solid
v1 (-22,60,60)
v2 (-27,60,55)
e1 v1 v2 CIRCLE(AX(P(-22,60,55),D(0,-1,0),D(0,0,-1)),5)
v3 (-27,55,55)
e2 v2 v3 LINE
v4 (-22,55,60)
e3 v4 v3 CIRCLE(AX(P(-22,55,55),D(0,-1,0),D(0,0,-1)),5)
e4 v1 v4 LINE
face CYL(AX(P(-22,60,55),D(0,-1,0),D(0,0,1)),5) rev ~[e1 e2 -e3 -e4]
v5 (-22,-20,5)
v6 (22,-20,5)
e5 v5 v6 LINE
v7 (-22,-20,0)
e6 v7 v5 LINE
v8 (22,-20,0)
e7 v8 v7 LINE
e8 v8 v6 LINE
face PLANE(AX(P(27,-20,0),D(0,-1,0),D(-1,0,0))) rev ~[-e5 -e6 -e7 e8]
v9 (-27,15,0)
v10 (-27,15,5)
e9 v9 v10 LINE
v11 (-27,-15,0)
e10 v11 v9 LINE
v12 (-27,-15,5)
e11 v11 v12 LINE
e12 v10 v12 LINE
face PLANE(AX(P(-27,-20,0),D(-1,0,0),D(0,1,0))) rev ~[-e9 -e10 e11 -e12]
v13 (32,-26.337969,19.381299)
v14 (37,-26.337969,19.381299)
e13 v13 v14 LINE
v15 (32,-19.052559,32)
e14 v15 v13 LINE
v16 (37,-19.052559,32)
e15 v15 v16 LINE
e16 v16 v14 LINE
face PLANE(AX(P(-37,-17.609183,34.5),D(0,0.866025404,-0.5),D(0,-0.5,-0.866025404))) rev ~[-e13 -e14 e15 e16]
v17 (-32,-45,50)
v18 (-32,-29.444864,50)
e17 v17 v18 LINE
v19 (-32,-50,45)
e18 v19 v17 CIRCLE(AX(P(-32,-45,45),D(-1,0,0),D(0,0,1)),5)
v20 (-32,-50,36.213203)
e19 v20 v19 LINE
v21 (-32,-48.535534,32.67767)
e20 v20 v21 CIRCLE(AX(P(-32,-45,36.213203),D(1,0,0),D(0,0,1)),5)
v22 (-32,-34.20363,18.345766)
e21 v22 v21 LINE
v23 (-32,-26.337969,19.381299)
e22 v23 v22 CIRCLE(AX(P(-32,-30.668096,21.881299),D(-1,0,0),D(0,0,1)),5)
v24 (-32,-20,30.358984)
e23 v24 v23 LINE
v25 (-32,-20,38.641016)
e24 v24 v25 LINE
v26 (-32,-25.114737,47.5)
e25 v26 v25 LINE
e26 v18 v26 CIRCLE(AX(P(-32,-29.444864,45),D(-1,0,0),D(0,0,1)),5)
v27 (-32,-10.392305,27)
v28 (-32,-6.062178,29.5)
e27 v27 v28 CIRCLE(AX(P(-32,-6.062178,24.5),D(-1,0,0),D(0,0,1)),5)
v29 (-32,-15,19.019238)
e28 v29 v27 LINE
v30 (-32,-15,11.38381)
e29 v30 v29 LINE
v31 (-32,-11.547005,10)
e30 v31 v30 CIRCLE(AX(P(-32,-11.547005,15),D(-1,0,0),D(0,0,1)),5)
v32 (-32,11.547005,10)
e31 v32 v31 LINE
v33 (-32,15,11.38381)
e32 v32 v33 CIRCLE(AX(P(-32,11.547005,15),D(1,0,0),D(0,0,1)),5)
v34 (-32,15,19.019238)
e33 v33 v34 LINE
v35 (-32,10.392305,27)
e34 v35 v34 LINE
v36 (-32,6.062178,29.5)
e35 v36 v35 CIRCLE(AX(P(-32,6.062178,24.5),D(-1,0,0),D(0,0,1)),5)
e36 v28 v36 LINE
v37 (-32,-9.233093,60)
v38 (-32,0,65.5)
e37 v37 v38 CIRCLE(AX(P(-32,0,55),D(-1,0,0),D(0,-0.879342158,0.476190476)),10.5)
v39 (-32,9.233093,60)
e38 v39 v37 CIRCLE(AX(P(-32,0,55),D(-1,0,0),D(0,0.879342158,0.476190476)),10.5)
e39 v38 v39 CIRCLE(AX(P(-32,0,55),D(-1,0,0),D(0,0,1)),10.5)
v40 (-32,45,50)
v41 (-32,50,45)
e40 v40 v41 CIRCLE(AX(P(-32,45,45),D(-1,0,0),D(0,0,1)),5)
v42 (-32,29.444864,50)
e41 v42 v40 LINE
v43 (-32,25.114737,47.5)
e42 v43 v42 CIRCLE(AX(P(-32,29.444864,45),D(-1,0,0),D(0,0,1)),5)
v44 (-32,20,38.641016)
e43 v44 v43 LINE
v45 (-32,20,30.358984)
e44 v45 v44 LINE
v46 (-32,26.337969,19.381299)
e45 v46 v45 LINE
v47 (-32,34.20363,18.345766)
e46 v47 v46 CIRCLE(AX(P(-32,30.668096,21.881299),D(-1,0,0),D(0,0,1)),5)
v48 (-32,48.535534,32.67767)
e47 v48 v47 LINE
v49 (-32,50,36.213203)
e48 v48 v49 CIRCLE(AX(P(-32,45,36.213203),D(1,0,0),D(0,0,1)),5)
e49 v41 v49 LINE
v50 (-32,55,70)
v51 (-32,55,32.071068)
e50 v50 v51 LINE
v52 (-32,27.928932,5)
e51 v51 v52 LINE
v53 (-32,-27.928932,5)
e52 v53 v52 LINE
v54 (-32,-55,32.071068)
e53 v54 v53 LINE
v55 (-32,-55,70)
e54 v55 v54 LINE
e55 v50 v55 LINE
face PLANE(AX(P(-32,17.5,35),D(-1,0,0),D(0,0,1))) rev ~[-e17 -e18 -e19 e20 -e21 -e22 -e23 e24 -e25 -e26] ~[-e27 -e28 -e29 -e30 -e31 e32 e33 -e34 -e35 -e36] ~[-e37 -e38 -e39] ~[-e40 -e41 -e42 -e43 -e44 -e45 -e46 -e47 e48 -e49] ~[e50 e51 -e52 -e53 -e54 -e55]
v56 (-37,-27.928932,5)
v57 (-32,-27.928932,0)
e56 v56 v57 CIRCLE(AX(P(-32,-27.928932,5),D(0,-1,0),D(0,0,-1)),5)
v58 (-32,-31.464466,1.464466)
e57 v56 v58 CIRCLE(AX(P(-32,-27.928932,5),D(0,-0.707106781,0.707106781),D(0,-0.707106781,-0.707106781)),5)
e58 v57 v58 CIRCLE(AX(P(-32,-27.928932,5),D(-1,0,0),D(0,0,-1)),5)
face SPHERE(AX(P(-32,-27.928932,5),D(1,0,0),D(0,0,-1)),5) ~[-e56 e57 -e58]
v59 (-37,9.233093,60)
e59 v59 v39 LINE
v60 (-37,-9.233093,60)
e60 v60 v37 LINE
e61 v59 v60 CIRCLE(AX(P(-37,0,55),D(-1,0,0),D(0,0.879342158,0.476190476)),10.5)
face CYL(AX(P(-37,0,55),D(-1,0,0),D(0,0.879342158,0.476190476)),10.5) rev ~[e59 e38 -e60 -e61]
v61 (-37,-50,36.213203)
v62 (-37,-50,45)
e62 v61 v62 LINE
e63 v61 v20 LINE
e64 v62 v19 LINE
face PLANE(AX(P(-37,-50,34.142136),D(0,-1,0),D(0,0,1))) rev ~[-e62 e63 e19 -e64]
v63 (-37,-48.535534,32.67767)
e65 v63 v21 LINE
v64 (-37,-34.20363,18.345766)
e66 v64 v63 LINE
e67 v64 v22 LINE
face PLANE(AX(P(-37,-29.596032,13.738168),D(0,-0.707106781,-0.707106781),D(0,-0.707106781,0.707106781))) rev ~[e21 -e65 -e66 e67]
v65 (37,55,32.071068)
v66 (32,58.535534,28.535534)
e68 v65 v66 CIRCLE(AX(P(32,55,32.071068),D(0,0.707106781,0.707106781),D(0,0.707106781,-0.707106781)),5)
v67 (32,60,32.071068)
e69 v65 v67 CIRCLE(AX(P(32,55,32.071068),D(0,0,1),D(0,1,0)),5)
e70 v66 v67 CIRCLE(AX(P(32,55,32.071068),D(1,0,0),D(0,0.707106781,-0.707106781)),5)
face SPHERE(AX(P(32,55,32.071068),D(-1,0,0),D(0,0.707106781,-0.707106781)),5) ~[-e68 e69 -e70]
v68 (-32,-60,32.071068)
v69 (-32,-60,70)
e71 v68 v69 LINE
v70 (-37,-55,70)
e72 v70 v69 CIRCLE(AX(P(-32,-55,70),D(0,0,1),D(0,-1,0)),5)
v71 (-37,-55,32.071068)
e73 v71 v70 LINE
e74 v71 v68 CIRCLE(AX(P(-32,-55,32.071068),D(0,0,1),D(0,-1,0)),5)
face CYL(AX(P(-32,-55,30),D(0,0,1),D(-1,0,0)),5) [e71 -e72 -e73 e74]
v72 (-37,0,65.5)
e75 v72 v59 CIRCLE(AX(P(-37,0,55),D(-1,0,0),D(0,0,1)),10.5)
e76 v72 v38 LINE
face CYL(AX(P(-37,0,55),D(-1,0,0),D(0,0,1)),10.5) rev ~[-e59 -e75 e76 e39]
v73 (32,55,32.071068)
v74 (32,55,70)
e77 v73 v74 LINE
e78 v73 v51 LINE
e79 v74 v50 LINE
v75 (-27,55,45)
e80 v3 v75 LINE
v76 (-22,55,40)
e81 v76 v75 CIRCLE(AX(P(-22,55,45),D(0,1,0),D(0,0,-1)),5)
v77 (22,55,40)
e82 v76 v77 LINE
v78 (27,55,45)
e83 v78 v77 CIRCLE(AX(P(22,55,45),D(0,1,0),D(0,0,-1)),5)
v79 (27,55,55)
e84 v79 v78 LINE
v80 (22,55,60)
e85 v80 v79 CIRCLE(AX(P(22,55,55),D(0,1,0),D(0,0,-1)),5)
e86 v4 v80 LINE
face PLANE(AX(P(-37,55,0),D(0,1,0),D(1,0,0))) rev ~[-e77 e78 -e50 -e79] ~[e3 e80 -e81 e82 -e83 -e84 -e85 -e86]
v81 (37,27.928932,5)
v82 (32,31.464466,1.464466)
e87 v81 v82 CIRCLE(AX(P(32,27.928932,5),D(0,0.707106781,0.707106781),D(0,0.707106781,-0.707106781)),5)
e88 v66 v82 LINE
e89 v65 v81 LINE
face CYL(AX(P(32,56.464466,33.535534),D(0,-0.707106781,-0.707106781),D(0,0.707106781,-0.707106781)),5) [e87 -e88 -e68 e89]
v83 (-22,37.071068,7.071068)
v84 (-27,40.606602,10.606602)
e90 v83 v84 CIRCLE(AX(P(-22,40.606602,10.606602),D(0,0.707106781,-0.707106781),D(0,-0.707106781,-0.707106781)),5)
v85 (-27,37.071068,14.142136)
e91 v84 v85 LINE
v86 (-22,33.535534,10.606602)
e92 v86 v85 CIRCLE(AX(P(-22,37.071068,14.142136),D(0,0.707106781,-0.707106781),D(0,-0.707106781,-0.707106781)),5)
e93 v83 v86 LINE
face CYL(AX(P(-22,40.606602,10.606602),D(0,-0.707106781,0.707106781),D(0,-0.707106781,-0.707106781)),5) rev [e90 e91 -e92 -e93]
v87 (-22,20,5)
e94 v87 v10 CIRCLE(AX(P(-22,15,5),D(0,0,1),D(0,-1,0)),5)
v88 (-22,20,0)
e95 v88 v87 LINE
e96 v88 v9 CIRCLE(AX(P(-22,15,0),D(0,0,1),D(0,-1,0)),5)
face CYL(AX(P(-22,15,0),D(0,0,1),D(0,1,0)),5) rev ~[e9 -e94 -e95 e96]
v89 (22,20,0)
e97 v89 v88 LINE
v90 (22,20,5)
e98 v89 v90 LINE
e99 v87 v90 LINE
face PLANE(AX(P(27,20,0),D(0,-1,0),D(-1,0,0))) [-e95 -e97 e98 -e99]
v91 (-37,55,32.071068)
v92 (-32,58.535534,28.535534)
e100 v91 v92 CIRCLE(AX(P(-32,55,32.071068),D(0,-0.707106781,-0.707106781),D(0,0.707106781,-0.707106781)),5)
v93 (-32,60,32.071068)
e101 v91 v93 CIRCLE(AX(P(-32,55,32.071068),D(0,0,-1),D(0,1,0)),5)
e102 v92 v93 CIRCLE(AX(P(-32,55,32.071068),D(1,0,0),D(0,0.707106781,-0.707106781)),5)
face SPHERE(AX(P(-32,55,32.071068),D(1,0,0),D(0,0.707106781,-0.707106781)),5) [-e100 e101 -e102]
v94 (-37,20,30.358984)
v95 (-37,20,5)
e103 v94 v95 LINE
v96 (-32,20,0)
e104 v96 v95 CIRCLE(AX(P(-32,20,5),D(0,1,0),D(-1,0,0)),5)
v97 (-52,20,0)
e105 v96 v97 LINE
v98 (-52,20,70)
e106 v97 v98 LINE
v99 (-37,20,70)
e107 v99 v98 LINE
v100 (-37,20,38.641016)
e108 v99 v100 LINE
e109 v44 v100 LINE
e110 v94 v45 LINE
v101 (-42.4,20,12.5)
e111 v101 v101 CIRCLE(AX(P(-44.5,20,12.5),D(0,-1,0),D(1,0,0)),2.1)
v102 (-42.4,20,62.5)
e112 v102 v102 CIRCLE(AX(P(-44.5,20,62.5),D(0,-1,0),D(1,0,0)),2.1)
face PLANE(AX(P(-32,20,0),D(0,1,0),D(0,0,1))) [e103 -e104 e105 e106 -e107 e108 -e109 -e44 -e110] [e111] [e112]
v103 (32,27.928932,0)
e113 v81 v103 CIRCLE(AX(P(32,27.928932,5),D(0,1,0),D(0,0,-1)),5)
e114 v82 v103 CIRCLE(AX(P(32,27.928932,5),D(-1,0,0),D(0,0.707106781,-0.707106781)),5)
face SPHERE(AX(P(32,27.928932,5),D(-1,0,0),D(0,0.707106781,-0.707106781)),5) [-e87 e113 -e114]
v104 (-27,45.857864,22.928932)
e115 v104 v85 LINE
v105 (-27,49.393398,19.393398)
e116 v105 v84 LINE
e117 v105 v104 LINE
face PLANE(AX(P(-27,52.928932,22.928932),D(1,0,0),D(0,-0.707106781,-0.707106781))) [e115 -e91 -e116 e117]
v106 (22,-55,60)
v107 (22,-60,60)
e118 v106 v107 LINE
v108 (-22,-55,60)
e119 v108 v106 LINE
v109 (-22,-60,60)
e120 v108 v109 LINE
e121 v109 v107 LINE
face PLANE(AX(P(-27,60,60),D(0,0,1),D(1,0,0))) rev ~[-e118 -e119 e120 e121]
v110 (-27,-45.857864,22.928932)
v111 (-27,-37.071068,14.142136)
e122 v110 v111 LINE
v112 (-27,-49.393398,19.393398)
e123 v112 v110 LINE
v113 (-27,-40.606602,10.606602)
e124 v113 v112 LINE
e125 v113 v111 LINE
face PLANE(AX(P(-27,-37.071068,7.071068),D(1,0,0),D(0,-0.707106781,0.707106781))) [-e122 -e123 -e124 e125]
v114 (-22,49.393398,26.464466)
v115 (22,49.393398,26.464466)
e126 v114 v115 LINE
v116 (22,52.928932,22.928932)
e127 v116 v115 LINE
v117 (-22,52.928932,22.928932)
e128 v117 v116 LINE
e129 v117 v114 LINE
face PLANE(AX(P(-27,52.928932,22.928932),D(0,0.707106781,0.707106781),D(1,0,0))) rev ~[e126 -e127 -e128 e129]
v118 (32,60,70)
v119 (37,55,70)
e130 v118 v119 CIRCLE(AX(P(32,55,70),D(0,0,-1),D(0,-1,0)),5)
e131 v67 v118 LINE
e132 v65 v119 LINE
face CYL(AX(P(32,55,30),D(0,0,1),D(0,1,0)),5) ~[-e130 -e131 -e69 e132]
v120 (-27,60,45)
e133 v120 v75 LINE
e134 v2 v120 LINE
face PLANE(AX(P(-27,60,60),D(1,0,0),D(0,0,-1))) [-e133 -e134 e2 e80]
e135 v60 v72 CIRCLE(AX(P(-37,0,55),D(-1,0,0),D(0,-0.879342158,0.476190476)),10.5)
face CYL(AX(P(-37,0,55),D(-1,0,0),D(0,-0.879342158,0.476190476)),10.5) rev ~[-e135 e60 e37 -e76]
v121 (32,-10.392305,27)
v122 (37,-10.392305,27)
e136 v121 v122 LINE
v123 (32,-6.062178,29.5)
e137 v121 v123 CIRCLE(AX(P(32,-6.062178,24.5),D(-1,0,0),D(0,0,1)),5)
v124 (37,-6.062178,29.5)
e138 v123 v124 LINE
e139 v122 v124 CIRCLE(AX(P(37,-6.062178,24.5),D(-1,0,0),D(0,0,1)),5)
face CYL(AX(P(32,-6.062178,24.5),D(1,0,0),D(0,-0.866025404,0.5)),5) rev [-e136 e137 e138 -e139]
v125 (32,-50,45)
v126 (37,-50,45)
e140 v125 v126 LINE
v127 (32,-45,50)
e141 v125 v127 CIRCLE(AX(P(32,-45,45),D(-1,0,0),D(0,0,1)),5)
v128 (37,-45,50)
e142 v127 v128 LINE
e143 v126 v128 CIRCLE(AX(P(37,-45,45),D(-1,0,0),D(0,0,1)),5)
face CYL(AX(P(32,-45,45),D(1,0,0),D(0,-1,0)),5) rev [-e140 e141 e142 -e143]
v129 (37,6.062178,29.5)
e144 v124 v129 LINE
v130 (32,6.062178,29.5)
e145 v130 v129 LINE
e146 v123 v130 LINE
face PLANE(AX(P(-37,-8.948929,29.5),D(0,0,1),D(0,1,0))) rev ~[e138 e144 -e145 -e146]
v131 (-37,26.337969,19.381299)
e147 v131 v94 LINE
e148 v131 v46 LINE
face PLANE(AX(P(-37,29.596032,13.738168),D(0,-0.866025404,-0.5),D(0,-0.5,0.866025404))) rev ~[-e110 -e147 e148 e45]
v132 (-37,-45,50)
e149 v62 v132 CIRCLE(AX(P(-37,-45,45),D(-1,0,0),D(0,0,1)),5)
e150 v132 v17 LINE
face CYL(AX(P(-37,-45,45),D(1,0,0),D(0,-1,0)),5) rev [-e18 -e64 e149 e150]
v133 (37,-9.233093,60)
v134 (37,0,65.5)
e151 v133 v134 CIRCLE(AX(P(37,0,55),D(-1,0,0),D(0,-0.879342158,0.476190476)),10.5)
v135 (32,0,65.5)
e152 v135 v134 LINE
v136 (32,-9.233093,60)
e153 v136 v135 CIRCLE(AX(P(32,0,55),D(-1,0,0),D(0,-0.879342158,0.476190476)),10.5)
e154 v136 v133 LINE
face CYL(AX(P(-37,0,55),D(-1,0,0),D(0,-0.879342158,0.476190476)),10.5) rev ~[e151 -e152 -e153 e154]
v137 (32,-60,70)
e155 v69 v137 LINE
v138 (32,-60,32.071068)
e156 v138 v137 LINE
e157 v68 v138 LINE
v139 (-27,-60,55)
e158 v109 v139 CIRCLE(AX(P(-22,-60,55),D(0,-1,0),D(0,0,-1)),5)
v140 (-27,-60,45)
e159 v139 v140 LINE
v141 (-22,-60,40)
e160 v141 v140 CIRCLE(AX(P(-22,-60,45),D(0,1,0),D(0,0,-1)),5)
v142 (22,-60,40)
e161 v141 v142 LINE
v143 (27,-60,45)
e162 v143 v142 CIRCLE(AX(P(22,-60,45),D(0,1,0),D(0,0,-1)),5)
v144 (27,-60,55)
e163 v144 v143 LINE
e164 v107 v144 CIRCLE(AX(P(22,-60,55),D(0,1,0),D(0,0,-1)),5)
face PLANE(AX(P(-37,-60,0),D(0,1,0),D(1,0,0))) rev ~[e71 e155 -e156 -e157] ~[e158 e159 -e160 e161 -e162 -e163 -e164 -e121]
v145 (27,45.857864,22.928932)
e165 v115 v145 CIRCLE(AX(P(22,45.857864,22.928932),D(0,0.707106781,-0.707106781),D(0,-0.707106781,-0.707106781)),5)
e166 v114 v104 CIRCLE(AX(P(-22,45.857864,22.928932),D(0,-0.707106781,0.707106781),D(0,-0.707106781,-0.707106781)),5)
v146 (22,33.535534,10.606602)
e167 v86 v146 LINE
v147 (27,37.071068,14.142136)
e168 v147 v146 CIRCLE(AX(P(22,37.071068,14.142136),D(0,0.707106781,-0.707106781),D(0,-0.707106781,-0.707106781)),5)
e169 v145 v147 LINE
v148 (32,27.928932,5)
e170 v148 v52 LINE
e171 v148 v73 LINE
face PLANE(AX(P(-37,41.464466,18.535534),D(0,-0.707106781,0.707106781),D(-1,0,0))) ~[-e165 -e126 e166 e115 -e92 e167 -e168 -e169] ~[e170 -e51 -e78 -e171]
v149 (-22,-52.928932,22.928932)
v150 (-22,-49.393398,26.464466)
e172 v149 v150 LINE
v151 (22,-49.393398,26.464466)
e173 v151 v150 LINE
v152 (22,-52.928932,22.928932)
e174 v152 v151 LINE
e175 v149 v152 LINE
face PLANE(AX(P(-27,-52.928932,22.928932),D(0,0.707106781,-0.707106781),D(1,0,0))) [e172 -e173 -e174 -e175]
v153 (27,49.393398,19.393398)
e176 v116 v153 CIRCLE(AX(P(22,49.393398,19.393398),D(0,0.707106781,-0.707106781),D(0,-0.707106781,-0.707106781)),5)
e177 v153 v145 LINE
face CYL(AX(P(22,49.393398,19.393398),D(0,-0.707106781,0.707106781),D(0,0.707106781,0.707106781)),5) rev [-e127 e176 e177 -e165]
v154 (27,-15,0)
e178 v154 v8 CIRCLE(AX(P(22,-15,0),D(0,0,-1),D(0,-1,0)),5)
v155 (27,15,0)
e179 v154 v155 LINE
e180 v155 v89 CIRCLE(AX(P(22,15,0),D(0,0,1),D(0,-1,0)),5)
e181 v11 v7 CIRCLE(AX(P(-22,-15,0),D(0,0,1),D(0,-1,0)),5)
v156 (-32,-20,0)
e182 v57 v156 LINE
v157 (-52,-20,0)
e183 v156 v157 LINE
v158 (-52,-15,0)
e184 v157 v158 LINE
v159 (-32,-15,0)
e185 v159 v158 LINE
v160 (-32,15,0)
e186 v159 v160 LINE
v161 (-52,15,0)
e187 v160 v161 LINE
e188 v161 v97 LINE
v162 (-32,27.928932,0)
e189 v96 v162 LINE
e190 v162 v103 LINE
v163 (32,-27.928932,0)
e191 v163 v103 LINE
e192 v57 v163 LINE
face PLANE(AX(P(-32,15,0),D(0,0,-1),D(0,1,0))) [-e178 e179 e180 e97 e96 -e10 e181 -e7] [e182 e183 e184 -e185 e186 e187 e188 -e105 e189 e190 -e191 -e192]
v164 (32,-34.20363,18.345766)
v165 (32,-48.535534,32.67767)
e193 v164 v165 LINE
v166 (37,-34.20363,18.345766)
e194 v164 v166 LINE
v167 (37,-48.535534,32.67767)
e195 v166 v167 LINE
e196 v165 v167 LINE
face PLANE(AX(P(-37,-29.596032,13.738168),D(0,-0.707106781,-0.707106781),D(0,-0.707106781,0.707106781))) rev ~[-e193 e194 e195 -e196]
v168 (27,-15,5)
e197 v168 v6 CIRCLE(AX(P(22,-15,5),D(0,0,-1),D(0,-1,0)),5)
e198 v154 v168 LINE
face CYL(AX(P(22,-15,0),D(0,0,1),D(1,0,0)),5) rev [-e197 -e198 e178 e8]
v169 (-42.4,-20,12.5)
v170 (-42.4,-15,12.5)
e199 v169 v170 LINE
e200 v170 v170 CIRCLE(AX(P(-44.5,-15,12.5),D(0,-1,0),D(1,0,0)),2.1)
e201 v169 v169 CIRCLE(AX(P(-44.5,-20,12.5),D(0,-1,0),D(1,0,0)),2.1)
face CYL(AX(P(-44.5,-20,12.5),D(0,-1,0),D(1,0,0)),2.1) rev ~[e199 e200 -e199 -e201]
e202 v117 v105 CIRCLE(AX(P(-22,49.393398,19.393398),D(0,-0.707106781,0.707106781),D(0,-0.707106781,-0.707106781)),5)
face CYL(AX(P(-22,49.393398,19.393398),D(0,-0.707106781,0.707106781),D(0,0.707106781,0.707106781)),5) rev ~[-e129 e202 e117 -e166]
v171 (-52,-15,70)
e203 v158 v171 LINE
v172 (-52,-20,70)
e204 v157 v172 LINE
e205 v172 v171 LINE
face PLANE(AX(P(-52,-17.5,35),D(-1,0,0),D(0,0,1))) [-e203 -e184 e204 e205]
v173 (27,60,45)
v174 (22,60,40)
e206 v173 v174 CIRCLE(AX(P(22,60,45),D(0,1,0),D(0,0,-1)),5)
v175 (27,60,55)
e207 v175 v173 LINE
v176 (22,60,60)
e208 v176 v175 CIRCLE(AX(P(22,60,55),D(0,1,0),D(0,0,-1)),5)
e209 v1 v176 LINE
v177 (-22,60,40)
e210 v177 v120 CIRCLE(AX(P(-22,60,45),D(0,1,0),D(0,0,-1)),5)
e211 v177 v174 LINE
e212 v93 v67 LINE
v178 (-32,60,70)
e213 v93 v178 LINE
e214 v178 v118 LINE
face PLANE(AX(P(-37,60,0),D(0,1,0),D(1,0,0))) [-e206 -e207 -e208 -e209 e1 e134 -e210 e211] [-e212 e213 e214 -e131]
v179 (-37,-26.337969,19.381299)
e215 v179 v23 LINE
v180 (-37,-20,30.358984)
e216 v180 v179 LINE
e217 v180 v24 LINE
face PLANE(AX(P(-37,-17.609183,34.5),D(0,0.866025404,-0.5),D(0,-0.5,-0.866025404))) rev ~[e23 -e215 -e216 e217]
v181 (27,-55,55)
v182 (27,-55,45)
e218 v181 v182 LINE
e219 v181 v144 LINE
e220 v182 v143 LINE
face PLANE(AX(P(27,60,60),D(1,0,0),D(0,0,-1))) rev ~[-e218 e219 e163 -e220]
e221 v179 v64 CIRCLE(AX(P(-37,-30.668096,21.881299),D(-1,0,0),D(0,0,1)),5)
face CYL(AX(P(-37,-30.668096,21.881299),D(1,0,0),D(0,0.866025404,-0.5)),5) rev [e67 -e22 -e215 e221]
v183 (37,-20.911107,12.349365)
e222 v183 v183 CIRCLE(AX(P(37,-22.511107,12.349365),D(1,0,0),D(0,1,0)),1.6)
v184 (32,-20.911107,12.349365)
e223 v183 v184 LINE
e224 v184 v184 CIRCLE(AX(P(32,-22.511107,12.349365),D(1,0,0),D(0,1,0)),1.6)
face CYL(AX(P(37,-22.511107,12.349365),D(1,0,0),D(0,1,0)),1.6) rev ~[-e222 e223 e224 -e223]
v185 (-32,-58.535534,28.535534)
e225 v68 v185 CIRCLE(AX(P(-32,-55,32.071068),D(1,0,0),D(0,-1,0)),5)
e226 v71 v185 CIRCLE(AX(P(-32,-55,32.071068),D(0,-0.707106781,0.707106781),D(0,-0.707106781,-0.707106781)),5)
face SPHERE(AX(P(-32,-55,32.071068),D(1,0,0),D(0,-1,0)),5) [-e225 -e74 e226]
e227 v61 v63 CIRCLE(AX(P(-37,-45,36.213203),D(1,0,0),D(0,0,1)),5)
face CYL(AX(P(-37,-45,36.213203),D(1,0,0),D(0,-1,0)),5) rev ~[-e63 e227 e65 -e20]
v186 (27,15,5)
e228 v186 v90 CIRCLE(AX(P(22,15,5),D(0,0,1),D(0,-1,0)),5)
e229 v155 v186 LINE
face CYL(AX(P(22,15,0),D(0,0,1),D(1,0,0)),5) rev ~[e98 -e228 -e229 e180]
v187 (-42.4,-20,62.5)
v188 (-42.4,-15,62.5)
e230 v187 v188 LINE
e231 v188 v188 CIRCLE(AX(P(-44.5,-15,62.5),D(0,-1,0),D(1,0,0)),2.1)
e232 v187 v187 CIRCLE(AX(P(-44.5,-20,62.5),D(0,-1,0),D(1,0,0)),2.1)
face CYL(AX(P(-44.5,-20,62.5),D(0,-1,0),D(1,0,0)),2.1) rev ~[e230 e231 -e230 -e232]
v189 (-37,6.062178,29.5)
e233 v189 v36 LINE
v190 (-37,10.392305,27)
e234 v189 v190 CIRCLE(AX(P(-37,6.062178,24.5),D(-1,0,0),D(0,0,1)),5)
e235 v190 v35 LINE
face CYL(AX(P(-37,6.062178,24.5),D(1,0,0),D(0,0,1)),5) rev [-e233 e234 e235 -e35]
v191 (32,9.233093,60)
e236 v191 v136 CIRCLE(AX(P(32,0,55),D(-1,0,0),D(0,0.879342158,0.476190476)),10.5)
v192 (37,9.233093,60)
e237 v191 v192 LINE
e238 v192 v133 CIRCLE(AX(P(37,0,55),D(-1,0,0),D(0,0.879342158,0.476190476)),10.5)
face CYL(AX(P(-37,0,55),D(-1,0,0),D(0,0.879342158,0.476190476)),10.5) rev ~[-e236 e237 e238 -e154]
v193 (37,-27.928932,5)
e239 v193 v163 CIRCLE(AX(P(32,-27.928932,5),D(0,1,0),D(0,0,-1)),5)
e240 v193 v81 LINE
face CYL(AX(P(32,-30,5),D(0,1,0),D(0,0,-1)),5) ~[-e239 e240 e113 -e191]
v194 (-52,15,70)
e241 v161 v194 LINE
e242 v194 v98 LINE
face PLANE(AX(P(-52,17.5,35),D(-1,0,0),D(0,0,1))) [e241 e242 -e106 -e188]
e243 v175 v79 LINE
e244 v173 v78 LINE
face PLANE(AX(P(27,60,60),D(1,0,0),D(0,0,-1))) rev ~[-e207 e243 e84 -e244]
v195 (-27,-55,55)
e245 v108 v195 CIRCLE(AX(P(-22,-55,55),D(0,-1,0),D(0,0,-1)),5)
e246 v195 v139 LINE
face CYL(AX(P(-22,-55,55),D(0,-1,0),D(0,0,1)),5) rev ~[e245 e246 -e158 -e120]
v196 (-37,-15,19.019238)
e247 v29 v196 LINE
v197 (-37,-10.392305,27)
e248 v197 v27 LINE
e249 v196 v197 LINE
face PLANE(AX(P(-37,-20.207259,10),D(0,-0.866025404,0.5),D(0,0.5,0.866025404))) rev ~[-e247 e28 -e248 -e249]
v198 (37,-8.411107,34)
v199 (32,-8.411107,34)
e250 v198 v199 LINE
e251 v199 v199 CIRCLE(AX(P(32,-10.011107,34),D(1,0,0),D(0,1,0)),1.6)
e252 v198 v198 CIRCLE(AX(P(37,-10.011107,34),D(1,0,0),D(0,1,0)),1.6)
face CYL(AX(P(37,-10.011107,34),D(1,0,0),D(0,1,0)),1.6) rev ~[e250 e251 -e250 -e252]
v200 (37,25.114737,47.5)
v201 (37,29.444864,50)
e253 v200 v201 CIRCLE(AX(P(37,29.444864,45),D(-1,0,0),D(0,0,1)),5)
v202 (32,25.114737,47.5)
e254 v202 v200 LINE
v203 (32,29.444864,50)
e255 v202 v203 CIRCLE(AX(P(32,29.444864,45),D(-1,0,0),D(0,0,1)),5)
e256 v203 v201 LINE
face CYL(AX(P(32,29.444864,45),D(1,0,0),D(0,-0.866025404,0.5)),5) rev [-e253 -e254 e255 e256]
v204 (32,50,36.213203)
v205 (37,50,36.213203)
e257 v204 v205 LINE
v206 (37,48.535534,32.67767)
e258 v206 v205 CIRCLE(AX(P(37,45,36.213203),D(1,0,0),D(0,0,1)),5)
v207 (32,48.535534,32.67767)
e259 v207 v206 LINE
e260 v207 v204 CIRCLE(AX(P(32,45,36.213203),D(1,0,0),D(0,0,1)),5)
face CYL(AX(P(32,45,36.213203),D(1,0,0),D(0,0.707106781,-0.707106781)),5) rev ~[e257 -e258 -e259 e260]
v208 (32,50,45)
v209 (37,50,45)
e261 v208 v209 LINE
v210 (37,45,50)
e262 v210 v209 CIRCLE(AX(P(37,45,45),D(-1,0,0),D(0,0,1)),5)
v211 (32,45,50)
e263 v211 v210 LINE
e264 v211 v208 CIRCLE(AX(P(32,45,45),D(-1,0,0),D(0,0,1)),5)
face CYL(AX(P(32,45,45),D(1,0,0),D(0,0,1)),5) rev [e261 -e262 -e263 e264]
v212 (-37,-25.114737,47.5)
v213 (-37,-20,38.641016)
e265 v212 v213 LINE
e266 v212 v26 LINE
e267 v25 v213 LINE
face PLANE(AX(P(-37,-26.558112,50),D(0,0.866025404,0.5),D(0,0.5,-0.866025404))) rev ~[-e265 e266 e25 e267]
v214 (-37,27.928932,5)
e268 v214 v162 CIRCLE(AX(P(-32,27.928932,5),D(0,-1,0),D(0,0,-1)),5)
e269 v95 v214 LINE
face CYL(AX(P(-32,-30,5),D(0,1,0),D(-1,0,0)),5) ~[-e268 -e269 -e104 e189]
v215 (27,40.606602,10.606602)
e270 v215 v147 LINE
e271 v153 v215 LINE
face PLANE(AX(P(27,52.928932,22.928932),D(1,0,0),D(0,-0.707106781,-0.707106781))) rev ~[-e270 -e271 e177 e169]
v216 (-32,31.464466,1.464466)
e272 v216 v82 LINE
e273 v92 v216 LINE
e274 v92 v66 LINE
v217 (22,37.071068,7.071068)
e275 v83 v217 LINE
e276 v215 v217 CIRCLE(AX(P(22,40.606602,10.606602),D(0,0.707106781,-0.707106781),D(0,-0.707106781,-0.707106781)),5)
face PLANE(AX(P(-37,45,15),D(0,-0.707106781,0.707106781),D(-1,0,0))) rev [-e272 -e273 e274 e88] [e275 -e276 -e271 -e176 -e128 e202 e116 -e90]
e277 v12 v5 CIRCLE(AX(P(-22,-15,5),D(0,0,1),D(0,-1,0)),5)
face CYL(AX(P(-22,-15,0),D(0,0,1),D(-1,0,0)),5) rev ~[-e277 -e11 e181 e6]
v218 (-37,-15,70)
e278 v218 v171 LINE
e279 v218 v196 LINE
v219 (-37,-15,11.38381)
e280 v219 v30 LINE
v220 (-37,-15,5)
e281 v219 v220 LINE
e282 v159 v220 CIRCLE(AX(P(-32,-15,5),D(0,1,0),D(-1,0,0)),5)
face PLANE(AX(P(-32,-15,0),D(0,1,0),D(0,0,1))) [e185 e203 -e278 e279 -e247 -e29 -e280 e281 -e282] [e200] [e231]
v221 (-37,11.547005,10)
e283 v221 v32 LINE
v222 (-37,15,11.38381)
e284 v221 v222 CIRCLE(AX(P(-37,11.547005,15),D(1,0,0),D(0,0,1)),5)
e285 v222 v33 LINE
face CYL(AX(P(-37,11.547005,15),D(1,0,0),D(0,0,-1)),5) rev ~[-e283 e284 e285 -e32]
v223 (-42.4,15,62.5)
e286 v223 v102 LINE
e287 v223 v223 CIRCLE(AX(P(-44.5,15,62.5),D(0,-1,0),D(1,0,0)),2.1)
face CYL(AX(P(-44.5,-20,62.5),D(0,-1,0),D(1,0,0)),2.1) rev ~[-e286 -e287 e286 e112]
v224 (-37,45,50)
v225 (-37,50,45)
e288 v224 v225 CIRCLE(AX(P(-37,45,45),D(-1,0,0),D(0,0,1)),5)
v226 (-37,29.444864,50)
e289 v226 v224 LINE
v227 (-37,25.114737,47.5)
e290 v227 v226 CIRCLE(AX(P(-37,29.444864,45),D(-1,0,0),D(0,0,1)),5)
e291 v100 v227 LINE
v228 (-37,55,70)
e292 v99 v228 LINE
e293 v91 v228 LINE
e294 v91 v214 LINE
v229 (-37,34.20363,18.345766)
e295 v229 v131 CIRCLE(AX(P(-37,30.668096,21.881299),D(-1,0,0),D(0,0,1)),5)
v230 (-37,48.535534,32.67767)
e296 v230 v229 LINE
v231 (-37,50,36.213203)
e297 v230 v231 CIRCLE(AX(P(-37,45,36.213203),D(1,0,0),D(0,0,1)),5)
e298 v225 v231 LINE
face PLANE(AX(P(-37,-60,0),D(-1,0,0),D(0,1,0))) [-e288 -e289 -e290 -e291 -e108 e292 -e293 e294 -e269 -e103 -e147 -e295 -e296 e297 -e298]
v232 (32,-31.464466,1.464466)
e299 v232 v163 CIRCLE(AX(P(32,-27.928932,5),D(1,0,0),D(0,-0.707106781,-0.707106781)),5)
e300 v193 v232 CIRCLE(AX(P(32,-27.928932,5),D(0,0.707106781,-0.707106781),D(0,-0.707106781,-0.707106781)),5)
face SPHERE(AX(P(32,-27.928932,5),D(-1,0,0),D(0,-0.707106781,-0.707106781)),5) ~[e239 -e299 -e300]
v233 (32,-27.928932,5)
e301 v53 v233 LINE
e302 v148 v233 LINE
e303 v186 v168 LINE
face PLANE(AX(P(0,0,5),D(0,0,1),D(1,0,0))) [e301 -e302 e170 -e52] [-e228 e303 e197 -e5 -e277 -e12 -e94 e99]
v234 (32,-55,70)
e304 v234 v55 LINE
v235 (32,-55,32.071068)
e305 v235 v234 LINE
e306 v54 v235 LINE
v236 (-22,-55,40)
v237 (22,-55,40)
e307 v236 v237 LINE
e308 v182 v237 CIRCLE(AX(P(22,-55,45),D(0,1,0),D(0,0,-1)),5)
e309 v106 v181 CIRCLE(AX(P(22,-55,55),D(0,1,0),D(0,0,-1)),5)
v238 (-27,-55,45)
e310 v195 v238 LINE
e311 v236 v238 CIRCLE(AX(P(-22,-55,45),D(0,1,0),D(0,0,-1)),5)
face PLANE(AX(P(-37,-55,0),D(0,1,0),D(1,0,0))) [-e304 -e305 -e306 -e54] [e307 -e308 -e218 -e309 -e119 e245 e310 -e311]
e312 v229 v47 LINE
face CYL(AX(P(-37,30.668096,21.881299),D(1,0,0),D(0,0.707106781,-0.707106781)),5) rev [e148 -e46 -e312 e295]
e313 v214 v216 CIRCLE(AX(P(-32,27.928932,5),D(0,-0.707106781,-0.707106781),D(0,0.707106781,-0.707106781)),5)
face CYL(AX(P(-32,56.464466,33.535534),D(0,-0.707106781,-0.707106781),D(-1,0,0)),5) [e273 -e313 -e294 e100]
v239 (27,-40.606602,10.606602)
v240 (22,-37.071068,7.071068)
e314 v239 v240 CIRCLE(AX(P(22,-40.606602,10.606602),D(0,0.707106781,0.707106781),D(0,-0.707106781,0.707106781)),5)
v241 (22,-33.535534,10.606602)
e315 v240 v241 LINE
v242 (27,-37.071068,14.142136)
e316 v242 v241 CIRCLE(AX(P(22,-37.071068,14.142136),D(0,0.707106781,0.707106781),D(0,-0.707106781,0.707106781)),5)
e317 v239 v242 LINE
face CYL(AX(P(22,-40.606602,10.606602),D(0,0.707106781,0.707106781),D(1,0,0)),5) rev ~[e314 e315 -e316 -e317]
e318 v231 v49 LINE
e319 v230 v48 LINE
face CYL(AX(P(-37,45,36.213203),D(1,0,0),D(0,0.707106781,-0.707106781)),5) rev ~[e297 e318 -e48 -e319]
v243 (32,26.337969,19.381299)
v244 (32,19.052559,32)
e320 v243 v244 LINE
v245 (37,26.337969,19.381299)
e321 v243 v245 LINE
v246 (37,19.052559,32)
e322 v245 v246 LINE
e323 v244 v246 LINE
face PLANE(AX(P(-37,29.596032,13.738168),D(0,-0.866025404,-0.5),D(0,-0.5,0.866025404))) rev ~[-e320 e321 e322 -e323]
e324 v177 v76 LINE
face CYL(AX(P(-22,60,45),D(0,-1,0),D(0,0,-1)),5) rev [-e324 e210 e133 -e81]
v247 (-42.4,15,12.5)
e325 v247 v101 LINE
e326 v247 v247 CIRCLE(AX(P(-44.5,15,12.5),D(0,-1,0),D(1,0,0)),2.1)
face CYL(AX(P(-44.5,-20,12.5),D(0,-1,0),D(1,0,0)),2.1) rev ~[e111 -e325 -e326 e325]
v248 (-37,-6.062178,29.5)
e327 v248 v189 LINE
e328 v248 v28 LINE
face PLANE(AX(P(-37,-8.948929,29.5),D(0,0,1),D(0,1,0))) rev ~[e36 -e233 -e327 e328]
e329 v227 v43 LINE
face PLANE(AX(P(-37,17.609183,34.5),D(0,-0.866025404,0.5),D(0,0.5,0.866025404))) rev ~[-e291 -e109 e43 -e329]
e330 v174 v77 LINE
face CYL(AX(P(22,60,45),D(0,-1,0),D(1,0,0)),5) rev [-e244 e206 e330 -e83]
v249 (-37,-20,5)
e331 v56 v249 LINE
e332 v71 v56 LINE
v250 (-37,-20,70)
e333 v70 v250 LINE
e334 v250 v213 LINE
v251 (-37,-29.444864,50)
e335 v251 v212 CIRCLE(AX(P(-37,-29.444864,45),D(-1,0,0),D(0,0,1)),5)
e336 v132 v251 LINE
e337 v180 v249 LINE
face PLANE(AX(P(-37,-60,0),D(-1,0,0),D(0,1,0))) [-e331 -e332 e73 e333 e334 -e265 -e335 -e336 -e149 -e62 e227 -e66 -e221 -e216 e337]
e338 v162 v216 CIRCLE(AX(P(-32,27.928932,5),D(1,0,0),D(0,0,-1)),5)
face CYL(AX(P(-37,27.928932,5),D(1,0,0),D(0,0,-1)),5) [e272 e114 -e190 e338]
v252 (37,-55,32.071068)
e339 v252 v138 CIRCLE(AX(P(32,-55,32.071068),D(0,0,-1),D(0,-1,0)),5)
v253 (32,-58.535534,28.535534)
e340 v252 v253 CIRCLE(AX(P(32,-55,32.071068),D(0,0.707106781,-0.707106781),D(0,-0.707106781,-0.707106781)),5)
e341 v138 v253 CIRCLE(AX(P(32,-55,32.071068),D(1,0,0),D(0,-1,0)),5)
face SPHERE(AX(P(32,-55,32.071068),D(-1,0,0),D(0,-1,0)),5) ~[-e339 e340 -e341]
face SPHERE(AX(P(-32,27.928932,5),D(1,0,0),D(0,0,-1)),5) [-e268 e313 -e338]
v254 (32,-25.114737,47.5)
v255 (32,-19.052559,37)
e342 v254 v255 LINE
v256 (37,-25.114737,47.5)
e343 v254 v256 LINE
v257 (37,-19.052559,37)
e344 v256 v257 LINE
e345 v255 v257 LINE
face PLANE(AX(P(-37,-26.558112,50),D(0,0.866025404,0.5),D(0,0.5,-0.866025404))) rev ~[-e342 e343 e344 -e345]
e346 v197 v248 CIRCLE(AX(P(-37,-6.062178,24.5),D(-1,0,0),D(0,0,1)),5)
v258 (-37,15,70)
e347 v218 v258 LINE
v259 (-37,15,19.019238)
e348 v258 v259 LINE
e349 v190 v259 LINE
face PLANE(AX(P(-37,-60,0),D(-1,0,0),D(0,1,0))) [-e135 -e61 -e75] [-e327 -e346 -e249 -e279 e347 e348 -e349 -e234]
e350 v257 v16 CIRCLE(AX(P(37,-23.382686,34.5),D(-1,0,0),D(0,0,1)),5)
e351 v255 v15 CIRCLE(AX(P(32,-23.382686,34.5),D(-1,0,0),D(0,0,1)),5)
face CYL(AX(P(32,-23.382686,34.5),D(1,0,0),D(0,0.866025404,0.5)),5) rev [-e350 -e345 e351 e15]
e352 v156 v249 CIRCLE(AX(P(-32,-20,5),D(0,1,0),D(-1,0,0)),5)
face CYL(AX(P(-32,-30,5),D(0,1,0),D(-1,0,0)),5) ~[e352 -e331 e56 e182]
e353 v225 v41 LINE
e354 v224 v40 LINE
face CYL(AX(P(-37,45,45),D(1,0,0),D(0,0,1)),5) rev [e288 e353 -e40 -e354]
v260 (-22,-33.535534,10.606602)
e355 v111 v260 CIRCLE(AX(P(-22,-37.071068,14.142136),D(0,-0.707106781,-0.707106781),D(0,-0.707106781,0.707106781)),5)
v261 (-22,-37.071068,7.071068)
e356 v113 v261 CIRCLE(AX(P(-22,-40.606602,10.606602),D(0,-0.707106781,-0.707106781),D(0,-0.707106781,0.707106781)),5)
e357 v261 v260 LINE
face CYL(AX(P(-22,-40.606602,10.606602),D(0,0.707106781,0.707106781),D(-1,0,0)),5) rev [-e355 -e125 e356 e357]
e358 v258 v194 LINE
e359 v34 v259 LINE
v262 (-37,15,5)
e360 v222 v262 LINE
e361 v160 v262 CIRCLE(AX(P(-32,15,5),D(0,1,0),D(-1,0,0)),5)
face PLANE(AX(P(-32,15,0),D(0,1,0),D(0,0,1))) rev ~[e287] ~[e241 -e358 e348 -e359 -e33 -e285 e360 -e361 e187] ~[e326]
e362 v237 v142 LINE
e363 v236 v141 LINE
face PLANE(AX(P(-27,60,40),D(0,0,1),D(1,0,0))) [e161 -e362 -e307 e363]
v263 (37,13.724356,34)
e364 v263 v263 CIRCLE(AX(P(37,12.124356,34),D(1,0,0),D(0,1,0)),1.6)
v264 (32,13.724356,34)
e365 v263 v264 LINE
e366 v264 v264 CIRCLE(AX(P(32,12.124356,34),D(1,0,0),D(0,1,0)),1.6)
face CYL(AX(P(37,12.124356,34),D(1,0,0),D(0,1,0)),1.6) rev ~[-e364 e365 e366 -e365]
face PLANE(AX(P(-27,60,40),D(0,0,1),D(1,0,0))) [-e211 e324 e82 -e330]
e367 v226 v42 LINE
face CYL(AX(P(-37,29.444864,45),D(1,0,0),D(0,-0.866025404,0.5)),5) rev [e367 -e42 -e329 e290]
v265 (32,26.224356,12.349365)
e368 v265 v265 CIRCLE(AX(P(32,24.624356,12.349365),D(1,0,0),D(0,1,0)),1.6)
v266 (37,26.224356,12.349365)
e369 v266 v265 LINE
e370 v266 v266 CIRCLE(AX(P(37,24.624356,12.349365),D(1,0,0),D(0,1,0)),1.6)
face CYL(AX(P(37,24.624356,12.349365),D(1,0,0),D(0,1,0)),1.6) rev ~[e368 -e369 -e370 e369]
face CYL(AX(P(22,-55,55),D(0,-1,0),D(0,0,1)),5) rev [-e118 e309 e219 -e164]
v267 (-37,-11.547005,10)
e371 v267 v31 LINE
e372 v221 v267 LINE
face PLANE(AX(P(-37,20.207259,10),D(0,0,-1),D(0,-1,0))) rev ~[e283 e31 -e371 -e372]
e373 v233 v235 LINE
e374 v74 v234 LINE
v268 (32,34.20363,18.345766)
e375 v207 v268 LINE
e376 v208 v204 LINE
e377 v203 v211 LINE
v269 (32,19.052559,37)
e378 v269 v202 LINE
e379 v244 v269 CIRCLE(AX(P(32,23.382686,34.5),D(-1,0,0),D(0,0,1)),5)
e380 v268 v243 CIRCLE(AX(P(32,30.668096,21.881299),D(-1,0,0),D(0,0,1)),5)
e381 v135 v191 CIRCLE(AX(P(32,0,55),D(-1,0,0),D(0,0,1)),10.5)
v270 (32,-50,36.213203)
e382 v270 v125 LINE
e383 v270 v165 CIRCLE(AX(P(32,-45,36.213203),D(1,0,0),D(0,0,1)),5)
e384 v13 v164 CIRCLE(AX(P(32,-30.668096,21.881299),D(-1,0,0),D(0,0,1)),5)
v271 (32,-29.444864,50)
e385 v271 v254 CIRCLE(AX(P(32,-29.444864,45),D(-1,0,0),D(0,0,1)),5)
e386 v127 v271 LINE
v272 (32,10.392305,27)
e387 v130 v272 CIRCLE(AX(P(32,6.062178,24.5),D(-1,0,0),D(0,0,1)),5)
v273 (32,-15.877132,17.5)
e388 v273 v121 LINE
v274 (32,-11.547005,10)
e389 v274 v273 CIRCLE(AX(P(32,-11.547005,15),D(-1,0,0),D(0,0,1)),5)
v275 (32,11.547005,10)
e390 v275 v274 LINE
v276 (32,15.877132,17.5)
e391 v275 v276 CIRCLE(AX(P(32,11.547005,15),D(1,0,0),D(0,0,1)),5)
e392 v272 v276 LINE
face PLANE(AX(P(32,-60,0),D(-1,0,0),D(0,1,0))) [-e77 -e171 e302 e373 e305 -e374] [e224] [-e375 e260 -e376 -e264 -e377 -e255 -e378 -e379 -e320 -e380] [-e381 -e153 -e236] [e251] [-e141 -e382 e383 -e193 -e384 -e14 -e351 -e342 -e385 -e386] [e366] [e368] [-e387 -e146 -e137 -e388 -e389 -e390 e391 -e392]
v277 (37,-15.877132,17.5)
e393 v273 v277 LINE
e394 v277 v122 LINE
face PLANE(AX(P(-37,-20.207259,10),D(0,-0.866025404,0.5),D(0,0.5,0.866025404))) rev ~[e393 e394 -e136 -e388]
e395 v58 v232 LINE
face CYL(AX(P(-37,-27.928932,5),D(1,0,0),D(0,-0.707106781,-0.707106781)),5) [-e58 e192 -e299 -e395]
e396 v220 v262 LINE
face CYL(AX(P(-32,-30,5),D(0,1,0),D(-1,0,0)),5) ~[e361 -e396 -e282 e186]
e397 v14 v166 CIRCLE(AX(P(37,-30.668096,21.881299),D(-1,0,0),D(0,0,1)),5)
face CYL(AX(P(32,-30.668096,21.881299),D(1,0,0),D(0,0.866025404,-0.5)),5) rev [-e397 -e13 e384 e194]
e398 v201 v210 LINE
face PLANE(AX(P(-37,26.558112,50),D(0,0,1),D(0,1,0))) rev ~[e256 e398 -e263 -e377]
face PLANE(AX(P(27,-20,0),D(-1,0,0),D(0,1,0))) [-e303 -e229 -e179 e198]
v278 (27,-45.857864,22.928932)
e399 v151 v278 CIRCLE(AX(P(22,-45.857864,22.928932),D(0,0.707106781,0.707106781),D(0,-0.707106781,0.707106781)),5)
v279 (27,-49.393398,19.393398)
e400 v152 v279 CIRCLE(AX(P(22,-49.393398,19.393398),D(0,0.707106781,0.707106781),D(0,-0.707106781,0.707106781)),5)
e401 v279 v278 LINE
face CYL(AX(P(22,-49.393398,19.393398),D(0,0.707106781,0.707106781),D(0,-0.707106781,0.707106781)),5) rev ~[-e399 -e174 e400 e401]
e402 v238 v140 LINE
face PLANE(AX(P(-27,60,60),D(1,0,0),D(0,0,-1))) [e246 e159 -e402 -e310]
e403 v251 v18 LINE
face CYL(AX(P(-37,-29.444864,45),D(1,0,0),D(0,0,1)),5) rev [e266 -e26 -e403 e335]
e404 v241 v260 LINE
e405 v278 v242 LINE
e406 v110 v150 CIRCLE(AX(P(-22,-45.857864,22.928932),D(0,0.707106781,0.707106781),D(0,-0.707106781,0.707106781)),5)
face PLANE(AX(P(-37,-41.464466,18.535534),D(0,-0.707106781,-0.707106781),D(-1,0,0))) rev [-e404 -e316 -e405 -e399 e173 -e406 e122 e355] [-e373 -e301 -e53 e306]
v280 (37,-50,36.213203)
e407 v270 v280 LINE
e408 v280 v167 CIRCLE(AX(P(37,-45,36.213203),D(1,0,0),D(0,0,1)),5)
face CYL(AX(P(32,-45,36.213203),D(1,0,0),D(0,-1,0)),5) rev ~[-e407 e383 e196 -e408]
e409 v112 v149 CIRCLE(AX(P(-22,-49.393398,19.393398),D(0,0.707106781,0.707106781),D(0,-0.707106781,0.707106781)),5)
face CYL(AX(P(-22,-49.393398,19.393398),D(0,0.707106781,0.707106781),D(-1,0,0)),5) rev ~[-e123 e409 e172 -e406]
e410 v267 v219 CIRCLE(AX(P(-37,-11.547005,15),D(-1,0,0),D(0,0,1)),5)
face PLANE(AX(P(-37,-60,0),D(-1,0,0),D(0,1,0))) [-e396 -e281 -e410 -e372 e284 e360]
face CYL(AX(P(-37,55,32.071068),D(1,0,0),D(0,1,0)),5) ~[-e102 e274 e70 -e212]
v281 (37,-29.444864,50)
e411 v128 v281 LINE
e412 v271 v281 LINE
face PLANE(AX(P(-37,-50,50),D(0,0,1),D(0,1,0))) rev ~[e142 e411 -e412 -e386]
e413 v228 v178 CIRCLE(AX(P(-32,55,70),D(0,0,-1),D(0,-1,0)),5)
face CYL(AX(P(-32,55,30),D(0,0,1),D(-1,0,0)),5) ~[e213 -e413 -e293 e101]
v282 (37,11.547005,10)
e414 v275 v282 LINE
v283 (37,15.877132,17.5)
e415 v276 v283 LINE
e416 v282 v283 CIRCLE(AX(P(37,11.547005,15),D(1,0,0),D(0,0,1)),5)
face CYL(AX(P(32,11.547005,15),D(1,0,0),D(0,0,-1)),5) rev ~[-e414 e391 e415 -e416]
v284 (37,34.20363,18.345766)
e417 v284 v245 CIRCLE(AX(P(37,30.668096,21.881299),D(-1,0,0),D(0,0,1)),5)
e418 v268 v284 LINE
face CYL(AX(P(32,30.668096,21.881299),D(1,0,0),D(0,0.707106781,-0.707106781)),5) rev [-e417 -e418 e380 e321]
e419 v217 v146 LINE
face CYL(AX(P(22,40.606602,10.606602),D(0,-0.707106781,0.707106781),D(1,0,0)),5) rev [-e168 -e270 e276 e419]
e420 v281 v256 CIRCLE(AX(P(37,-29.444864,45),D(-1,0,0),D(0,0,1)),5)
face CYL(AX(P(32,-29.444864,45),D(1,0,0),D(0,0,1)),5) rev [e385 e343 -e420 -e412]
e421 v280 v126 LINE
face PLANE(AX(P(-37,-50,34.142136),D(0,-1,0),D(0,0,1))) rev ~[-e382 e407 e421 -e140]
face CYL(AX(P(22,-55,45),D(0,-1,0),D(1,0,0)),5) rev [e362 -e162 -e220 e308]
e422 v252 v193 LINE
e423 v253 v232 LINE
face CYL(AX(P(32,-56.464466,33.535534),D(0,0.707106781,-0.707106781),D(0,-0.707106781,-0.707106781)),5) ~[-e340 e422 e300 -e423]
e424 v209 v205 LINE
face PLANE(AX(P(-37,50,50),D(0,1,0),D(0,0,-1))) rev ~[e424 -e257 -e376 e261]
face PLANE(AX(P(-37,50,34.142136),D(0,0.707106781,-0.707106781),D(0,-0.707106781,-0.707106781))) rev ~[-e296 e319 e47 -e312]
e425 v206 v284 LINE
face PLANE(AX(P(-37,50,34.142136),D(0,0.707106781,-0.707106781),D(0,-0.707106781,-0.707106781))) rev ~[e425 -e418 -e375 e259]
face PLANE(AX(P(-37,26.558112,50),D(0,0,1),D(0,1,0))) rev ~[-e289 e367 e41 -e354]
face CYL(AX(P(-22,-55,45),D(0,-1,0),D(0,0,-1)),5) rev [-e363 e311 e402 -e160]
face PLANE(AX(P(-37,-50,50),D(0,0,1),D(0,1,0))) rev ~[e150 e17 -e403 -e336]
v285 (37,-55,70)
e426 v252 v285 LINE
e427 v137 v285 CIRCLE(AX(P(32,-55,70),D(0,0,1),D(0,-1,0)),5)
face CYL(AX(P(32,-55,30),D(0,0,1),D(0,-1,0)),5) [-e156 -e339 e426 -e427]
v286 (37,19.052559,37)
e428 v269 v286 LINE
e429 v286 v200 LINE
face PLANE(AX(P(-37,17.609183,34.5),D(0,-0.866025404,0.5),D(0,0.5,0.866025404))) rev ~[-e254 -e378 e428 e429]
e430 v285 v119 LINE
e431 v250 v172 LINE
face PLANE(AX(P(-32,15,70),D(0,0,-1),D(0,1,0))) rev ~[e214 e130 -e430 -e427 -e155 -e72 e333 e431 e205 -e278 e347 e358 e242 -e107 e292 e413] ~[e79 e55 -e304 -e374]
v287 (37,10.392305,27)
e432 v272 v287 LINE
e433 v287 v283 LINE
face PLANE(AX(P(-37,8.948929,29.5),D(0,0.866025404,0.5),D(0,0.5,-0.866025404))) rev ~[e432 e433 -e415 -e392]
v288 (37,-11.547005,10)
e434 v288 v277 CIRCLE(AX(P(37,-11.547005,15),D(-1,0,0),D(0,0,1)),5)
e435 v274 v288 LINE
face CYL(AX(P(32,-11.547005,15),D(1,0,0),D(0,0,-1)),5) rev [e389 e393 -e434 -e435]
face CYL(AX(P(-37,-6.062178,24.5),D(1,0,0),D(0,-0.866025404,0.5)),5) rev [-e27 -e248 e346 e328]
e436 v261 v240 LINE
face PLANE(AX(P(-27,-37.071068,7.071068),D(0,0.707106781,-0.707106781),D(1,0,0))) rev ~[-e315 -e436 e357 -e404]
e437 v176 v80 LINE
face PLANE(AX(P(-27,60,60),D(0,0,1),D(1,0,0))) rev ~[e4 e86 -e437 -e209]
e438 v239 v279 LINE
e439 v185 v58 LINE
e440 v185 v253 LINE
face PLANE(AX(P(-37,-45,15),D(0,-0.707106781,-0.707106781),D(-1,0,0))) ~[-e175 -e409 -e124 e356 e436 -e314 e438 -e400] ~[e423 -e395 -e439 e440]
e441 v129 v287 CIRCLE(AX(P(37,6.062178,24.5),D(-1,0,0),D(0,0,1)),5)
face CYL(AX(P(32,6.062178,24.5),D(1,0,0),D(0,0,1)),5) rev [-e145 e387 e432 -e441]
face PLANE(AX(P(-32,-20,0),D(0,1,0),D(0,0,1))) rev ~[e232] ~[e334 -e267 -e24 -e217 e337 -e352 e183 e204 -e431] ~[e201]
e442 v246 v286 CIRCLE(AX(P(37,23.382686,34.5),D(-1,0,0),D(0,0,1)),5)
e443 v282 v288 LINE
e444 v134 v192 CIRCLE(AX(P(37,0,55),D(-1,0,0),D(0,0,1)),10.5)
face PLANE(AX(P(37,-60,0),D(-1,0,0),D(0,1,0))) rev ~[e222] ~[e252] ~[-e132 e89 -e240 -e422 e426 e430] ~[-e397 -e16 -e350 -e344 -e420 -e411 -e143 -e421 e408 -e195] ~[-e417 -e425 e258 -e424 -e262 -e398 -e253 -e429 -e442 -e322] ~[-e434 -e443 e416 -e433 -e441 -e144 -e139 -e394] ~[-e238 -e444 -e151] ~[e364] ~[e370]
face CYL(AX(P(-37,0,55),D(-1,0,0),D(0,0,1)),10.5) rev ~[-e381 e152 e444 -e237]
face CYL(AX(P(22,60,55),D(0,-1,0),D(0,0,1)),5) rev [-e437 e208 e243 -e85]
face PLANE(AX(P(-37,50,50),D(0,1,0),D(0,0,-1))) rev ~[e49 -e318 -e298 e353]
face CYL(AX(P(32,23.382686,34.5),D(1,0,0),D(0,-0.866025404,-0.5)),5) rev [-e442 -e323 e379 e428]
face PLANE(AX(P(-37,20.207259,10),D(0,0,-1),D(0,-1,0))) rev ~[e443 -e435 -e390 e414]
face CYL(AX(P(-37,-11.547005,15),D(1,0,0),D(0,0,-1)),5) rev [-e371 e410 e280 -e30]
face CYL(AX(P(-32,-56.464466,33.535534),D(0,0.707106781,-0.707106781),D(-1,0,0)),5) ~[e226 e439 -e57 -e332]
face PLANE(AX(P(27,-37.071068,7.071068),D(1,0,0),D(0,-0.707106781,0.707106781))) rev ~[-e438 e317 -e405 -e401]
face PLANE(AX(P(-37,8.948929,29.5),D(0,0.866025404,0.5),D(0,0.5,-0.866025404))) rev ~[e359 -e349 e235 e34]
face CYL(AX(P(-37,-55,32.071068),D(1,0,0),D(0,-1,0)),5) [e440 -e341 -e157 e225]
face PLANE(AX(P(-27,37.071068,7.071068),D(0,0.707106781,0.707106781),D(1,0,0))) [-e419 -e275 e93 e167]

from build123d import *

# Parameters (mm, degrees)
SKETCH_1_W           = 74
SKETCH_1_H           = 120
EXTRUDE_1_DEPTH      = 70
CHAMFER_2_SIZE       = 30
SHELL_1_T            = -5
CUT_EXTRUDE_1_DEPTH  = 119.220133649
SKETCH_3_W           = 54
SKETCH_3_H           = 22.426406871
CUT_EXTRUDE_2_DEPTH  = 70
SKETCH_4_W           = 54
SKETCH_4_H           = 22.426406871
CUT_EXTRUDE_3_DEPTH  = 70
SKETCH_5_W           = 54
SKETCH_5_H           = 40
CUT_EXTRUDE_4_DEPTH  = 70
SKETCH_7_W           = 54
SKETCH_7_H           = 20
CUT_EXTRUDE_5_DEPTH  = 144.767172887
FILLET_1_R           = 5
EXTRUDE_3_DEPTH      = 15
EXTRUDE_3_DEPTH_BACK = 5
SKETCH_10_W          = 70
SKETCH_10_H          = 5
SKETCH_12_R          = 2.1
CUT_EXTRUDE_7_DEPTH  = 119.33849754
SKETCH_13_R          = 1.6
CUT_EXTRUDE_8_DEPTH  = 10


with BuildPart() as part:
    # ｽｹｯﾁ1 → ﾎﾞｽ - 押し出し1 (new body)
    with BuildSketch(Plane.XY):
        Rectangle(SKETCH_1_W, SKETCH_1_H)
    extrude(amount=EXTRUDE_1_DEPTH)

    # 面取り2
    chamfer_2_edges = [part.edges().sort_by_distance(p)[0] for p in [
        (0, -60, 0),
        (0, 60, 0),
    ]]
    chamfer(chamfer_2_edges, length=CHAMFER_2_SIZE)

    # ｼｪﾙ1
    shell_1_openings = [part.faces().sort_by_distance(p)[0] for p in [
        (0, 0, 70),
    ]]
    offset(amount=SHELL_1_T, openings=shell_1_openings, kind=Kind.INTERSECTION)

    # ｽｹｯﾁ2 → ｶｯﾄ - 押し出し1 (cut, through all)
    with BuildSketch(Plane.ZY.offset(37)):
        Polygon((34.142135624, -50), (50, -50), (50, -26.558112383), (34.5, -17.60918321), (13.738168081, -29.596032457), align=None)
        Polygon((10, 20.207259422), (10, -20.207259422), (29.5, -8.948929172), (29.5, 8.948929172), align=None)
        Polygon((34.142135624, 50), (13.738168081, 29.596032457), (34.5, 17.60918321), (50, 26.558112383), (50, 50), align=None)
        with BuildLine():
            ThreePointArc((60, 9.233092656), (44.5, 0), (60, -9.233092656))
            Line((60, -9.233092656), (60, 9.233092656))
        make_face()
        with BuildLine():
            Line((60, 9.233092656), (60, -9.233092656))
            ThreePointArc((60, -9.233092656), (64.020809276, -5.373546315), (65.5, 0))
            ThreePointArc((65.5, 0), (64.020809276, 5.373546315), (60, 9.233092656))
        make_face()
    extrude(amount=-CUT_EXTRUDE_1_DEPTH, mode=Mode.SUBTRACT)

    # ｽｹｯﾁ3 → ｶｯﾄ - 押し出し2 (cut)
    with BuildSketch(Plane(origin=(0, -15, -15), x_dir=(1, 0, 0), z_dir=(0, -0.7071067811865464, -0.7071067811865487))):
        with Locations((0, 42.426406872)):
            Rectangle(SKETCH_3_W, SKETCH_3_H)
    extrude(amount=-CUT_EXTRUDE_2_DEPTH, mode=Mode.SUBTRACT)

    # ｽｹｯﾁ4 → ｶｯﾄ - 押し出し3 (cut)
    with BuildSketch(Plane(origin=(0, 15, -15), x_dir=(1, 0, 0), z_dir=(0, 0.7071067811865464, -0.7071067811865487))):
        with Locations((0, -42.426406872)):
            Rectangle(SKETCH_4_W, SKETCH_4_H)
    extrude(amount=-CUT_EXTRUDE_3_DEPTH, mode=Mode.SUBTRACT)

    # ｽｹｯﾁ5 → ｶｯﾄ - 押し出し4 (cut)
    with BuildSketch(Plane(origin=(0, 0, 0), x_dir=(-1, 0, 0), z_dir=(0, 0, -1))):
        Rectangle(SKETCH_5_W, SKETCH_5_H)
    extrude(amount=-CUT_EXTRUDE_4_DEPTH, mode=Mode.SUBTRACT)

    # ｽｹｯﾁ7 → ｶｯﾄ - 押し出し5 (cut, through all)
    with BuildSketch(Plane(origin=(0, 60, 0), x_dir=(1, 0, 0), z_dir=(0, 1, 0))):
        with Locations((0, -50)):
            Rectangle(SKETCH_7_W, SKETCH_7_H)
    extrude(amount=-CUT_EXTRUDE_5_DEPTH, mode=Mode.SUBTRACT)

    # ﾌｨﾚｯﾄ1
    fillet_1_edges = [part.edges().sort_by_distance(p)[0] for p in [
        (34.5, 20.207259422, 10),
        (34.5, 8.948929172, 29.5),
        (34.5, -8.948929172, 29.5),
        (34.5, -20.207259422, 10),
        (-34.5, 20.207259422, 10),
        (-34.5, 8.948929172, 29.5),
        (-34.5, -8.948929172, 29.5),
        (-34.5, -20.207259422, 10),
        (0, 60, 30),
        (-27, -51.161165235, 24.696699141),
        (27, -51.161165235, 24.696699141),
        (27, -35.303300859, 8.838834765),
        (-27, -35.303300859, 8.838834765),
        (-37, 0, 0),
        (-37, -45, 15),
        (-37, 45, 15),
        (27, 51.161165235, 24.696699141),
        (-27, 51.161165235, 24.696699141),
        (-27, 35.303300859, 8.838834765),
        (27, 35.303300859, 8.838834765),
        (37, 0, 0),
        (0, -30, 0),
        (0, 30, 0),
        (37, -45, 15),
        (-27, -20, 2.5),
        (27, -20, 2.5),
        (27, 20, 2.5),
        (-27, 20, 2.5),
        (37, 45, 15),
        (0, -60, 30),
        (27, 57.5, 60),
        (-27, 57.5, 60),
        (-27, 57.5, 40),
        (27, 57.5, 40),
        (27, -57.5, 60),
        (-27, -57.5, 60),
        (-27, -57.5, 40),
        (27, -57.5, 40),
        (34.5, -50, 34.142135624),
        (34.5, -29.596032457, 13.738168081),
        (34.5, -17.60918321, 34.5),
        (34.5, -26.558112383, 50),
        (34.5, -50, 50),
        (-34.5, -50, 34.142135624),
        (-34.5, -29.596032457, 13.738168081),
        (-34.5, -17.60918321, 34.5),
        (-34.5, -26.558112383, 50),
        (-34.5, -50, 50),
        (37, -60, 50),
        (-37, -60, 50),
        (-37, 60, 50),
        (37, 60, 50),
        (34.5, 50, 34.142135624),
        (34.5, 50, 50),
        (34.5, 26.558112383, 50),
        (34.5, 17.60918321, 34.5),
        (34.5, 29.596032457, 13.738168081),
        (-34.5, 50, 34.142135624),
        (-34.5, 50, 50),
        (-34.5, 26.558112383, 50),
        (-34.5, 17.60918321, 34.5),
        (-34.5, 29.596032457, 13.738168081),
    ]]
    fillet(fillet_1_edges, radius=FILLET_1_R)

    # ｽｹｯﾁ10 → ﾎﾞｽ - 押し出し3 (add, two sides: drawn at the far end of the back side and taken through both)
    with BuildSketch(Plane.ZY.offset(37).offset(-EXTRUDE_3_DEPTH_BACK)):
        with Locations((35, 17.5)):
            Rectangle(SKETCH_10_W, SKETCH_10_H)
        with Locations((35, -17.5)):
            Rectangle(SKETCH_10_W, SKETCH_10_H)
    extrude(amount=EXTRUDE_3_DEPTH + EXTRUDE_3_DEPTH_BACK)

    # ｽｹｯﾁ12 → ｶｯﾄ - 押し出し7 (cut, through all)
    with BuildSketch(Plane.XZ.offset(20)):
        with Locations((-44.5, 62.5)):
            Circle(SKETCH_12_R)
        with Locations((-44.5, 12.5)):
            Circle(SKETCH_12_R)
    extrude(amount=-CUT_EXTRUDE_7_DEPTH, mode=Mode.SUBTRACT)

    # ｽｹｯﾁ13 → ｶｯﾄ - 押し出し8 (cut)
    with BuildSketch(Plane(origin=(37, 0, 0), x_dir=(0, 0, -1), z_dir=(1, 0, 0))):
        with Locations(Location((-12.349364905, 24.624355653, 0), (0, 0, 90))):
            Circle(SKETCH_13_R)
        with Locations(Location((-34, 12.124355653, 0), (0, 0, 90))):
            Circle(SKETCH_13_R)
        with Locations(Location((-34, -10.011106999, 0), (0, 0, 90))):
            Circle(SKETCH_13_R)
        with Locations(Location((-12.349364905, -22.511106999, 0), (0, 0, 90))):
            Circle(SKETCH_13_R)
    extrude(amount=-CUT_EXTRUDE_8_DEPTH, mode=Mode.SUBTRACT)


solid = part.part
